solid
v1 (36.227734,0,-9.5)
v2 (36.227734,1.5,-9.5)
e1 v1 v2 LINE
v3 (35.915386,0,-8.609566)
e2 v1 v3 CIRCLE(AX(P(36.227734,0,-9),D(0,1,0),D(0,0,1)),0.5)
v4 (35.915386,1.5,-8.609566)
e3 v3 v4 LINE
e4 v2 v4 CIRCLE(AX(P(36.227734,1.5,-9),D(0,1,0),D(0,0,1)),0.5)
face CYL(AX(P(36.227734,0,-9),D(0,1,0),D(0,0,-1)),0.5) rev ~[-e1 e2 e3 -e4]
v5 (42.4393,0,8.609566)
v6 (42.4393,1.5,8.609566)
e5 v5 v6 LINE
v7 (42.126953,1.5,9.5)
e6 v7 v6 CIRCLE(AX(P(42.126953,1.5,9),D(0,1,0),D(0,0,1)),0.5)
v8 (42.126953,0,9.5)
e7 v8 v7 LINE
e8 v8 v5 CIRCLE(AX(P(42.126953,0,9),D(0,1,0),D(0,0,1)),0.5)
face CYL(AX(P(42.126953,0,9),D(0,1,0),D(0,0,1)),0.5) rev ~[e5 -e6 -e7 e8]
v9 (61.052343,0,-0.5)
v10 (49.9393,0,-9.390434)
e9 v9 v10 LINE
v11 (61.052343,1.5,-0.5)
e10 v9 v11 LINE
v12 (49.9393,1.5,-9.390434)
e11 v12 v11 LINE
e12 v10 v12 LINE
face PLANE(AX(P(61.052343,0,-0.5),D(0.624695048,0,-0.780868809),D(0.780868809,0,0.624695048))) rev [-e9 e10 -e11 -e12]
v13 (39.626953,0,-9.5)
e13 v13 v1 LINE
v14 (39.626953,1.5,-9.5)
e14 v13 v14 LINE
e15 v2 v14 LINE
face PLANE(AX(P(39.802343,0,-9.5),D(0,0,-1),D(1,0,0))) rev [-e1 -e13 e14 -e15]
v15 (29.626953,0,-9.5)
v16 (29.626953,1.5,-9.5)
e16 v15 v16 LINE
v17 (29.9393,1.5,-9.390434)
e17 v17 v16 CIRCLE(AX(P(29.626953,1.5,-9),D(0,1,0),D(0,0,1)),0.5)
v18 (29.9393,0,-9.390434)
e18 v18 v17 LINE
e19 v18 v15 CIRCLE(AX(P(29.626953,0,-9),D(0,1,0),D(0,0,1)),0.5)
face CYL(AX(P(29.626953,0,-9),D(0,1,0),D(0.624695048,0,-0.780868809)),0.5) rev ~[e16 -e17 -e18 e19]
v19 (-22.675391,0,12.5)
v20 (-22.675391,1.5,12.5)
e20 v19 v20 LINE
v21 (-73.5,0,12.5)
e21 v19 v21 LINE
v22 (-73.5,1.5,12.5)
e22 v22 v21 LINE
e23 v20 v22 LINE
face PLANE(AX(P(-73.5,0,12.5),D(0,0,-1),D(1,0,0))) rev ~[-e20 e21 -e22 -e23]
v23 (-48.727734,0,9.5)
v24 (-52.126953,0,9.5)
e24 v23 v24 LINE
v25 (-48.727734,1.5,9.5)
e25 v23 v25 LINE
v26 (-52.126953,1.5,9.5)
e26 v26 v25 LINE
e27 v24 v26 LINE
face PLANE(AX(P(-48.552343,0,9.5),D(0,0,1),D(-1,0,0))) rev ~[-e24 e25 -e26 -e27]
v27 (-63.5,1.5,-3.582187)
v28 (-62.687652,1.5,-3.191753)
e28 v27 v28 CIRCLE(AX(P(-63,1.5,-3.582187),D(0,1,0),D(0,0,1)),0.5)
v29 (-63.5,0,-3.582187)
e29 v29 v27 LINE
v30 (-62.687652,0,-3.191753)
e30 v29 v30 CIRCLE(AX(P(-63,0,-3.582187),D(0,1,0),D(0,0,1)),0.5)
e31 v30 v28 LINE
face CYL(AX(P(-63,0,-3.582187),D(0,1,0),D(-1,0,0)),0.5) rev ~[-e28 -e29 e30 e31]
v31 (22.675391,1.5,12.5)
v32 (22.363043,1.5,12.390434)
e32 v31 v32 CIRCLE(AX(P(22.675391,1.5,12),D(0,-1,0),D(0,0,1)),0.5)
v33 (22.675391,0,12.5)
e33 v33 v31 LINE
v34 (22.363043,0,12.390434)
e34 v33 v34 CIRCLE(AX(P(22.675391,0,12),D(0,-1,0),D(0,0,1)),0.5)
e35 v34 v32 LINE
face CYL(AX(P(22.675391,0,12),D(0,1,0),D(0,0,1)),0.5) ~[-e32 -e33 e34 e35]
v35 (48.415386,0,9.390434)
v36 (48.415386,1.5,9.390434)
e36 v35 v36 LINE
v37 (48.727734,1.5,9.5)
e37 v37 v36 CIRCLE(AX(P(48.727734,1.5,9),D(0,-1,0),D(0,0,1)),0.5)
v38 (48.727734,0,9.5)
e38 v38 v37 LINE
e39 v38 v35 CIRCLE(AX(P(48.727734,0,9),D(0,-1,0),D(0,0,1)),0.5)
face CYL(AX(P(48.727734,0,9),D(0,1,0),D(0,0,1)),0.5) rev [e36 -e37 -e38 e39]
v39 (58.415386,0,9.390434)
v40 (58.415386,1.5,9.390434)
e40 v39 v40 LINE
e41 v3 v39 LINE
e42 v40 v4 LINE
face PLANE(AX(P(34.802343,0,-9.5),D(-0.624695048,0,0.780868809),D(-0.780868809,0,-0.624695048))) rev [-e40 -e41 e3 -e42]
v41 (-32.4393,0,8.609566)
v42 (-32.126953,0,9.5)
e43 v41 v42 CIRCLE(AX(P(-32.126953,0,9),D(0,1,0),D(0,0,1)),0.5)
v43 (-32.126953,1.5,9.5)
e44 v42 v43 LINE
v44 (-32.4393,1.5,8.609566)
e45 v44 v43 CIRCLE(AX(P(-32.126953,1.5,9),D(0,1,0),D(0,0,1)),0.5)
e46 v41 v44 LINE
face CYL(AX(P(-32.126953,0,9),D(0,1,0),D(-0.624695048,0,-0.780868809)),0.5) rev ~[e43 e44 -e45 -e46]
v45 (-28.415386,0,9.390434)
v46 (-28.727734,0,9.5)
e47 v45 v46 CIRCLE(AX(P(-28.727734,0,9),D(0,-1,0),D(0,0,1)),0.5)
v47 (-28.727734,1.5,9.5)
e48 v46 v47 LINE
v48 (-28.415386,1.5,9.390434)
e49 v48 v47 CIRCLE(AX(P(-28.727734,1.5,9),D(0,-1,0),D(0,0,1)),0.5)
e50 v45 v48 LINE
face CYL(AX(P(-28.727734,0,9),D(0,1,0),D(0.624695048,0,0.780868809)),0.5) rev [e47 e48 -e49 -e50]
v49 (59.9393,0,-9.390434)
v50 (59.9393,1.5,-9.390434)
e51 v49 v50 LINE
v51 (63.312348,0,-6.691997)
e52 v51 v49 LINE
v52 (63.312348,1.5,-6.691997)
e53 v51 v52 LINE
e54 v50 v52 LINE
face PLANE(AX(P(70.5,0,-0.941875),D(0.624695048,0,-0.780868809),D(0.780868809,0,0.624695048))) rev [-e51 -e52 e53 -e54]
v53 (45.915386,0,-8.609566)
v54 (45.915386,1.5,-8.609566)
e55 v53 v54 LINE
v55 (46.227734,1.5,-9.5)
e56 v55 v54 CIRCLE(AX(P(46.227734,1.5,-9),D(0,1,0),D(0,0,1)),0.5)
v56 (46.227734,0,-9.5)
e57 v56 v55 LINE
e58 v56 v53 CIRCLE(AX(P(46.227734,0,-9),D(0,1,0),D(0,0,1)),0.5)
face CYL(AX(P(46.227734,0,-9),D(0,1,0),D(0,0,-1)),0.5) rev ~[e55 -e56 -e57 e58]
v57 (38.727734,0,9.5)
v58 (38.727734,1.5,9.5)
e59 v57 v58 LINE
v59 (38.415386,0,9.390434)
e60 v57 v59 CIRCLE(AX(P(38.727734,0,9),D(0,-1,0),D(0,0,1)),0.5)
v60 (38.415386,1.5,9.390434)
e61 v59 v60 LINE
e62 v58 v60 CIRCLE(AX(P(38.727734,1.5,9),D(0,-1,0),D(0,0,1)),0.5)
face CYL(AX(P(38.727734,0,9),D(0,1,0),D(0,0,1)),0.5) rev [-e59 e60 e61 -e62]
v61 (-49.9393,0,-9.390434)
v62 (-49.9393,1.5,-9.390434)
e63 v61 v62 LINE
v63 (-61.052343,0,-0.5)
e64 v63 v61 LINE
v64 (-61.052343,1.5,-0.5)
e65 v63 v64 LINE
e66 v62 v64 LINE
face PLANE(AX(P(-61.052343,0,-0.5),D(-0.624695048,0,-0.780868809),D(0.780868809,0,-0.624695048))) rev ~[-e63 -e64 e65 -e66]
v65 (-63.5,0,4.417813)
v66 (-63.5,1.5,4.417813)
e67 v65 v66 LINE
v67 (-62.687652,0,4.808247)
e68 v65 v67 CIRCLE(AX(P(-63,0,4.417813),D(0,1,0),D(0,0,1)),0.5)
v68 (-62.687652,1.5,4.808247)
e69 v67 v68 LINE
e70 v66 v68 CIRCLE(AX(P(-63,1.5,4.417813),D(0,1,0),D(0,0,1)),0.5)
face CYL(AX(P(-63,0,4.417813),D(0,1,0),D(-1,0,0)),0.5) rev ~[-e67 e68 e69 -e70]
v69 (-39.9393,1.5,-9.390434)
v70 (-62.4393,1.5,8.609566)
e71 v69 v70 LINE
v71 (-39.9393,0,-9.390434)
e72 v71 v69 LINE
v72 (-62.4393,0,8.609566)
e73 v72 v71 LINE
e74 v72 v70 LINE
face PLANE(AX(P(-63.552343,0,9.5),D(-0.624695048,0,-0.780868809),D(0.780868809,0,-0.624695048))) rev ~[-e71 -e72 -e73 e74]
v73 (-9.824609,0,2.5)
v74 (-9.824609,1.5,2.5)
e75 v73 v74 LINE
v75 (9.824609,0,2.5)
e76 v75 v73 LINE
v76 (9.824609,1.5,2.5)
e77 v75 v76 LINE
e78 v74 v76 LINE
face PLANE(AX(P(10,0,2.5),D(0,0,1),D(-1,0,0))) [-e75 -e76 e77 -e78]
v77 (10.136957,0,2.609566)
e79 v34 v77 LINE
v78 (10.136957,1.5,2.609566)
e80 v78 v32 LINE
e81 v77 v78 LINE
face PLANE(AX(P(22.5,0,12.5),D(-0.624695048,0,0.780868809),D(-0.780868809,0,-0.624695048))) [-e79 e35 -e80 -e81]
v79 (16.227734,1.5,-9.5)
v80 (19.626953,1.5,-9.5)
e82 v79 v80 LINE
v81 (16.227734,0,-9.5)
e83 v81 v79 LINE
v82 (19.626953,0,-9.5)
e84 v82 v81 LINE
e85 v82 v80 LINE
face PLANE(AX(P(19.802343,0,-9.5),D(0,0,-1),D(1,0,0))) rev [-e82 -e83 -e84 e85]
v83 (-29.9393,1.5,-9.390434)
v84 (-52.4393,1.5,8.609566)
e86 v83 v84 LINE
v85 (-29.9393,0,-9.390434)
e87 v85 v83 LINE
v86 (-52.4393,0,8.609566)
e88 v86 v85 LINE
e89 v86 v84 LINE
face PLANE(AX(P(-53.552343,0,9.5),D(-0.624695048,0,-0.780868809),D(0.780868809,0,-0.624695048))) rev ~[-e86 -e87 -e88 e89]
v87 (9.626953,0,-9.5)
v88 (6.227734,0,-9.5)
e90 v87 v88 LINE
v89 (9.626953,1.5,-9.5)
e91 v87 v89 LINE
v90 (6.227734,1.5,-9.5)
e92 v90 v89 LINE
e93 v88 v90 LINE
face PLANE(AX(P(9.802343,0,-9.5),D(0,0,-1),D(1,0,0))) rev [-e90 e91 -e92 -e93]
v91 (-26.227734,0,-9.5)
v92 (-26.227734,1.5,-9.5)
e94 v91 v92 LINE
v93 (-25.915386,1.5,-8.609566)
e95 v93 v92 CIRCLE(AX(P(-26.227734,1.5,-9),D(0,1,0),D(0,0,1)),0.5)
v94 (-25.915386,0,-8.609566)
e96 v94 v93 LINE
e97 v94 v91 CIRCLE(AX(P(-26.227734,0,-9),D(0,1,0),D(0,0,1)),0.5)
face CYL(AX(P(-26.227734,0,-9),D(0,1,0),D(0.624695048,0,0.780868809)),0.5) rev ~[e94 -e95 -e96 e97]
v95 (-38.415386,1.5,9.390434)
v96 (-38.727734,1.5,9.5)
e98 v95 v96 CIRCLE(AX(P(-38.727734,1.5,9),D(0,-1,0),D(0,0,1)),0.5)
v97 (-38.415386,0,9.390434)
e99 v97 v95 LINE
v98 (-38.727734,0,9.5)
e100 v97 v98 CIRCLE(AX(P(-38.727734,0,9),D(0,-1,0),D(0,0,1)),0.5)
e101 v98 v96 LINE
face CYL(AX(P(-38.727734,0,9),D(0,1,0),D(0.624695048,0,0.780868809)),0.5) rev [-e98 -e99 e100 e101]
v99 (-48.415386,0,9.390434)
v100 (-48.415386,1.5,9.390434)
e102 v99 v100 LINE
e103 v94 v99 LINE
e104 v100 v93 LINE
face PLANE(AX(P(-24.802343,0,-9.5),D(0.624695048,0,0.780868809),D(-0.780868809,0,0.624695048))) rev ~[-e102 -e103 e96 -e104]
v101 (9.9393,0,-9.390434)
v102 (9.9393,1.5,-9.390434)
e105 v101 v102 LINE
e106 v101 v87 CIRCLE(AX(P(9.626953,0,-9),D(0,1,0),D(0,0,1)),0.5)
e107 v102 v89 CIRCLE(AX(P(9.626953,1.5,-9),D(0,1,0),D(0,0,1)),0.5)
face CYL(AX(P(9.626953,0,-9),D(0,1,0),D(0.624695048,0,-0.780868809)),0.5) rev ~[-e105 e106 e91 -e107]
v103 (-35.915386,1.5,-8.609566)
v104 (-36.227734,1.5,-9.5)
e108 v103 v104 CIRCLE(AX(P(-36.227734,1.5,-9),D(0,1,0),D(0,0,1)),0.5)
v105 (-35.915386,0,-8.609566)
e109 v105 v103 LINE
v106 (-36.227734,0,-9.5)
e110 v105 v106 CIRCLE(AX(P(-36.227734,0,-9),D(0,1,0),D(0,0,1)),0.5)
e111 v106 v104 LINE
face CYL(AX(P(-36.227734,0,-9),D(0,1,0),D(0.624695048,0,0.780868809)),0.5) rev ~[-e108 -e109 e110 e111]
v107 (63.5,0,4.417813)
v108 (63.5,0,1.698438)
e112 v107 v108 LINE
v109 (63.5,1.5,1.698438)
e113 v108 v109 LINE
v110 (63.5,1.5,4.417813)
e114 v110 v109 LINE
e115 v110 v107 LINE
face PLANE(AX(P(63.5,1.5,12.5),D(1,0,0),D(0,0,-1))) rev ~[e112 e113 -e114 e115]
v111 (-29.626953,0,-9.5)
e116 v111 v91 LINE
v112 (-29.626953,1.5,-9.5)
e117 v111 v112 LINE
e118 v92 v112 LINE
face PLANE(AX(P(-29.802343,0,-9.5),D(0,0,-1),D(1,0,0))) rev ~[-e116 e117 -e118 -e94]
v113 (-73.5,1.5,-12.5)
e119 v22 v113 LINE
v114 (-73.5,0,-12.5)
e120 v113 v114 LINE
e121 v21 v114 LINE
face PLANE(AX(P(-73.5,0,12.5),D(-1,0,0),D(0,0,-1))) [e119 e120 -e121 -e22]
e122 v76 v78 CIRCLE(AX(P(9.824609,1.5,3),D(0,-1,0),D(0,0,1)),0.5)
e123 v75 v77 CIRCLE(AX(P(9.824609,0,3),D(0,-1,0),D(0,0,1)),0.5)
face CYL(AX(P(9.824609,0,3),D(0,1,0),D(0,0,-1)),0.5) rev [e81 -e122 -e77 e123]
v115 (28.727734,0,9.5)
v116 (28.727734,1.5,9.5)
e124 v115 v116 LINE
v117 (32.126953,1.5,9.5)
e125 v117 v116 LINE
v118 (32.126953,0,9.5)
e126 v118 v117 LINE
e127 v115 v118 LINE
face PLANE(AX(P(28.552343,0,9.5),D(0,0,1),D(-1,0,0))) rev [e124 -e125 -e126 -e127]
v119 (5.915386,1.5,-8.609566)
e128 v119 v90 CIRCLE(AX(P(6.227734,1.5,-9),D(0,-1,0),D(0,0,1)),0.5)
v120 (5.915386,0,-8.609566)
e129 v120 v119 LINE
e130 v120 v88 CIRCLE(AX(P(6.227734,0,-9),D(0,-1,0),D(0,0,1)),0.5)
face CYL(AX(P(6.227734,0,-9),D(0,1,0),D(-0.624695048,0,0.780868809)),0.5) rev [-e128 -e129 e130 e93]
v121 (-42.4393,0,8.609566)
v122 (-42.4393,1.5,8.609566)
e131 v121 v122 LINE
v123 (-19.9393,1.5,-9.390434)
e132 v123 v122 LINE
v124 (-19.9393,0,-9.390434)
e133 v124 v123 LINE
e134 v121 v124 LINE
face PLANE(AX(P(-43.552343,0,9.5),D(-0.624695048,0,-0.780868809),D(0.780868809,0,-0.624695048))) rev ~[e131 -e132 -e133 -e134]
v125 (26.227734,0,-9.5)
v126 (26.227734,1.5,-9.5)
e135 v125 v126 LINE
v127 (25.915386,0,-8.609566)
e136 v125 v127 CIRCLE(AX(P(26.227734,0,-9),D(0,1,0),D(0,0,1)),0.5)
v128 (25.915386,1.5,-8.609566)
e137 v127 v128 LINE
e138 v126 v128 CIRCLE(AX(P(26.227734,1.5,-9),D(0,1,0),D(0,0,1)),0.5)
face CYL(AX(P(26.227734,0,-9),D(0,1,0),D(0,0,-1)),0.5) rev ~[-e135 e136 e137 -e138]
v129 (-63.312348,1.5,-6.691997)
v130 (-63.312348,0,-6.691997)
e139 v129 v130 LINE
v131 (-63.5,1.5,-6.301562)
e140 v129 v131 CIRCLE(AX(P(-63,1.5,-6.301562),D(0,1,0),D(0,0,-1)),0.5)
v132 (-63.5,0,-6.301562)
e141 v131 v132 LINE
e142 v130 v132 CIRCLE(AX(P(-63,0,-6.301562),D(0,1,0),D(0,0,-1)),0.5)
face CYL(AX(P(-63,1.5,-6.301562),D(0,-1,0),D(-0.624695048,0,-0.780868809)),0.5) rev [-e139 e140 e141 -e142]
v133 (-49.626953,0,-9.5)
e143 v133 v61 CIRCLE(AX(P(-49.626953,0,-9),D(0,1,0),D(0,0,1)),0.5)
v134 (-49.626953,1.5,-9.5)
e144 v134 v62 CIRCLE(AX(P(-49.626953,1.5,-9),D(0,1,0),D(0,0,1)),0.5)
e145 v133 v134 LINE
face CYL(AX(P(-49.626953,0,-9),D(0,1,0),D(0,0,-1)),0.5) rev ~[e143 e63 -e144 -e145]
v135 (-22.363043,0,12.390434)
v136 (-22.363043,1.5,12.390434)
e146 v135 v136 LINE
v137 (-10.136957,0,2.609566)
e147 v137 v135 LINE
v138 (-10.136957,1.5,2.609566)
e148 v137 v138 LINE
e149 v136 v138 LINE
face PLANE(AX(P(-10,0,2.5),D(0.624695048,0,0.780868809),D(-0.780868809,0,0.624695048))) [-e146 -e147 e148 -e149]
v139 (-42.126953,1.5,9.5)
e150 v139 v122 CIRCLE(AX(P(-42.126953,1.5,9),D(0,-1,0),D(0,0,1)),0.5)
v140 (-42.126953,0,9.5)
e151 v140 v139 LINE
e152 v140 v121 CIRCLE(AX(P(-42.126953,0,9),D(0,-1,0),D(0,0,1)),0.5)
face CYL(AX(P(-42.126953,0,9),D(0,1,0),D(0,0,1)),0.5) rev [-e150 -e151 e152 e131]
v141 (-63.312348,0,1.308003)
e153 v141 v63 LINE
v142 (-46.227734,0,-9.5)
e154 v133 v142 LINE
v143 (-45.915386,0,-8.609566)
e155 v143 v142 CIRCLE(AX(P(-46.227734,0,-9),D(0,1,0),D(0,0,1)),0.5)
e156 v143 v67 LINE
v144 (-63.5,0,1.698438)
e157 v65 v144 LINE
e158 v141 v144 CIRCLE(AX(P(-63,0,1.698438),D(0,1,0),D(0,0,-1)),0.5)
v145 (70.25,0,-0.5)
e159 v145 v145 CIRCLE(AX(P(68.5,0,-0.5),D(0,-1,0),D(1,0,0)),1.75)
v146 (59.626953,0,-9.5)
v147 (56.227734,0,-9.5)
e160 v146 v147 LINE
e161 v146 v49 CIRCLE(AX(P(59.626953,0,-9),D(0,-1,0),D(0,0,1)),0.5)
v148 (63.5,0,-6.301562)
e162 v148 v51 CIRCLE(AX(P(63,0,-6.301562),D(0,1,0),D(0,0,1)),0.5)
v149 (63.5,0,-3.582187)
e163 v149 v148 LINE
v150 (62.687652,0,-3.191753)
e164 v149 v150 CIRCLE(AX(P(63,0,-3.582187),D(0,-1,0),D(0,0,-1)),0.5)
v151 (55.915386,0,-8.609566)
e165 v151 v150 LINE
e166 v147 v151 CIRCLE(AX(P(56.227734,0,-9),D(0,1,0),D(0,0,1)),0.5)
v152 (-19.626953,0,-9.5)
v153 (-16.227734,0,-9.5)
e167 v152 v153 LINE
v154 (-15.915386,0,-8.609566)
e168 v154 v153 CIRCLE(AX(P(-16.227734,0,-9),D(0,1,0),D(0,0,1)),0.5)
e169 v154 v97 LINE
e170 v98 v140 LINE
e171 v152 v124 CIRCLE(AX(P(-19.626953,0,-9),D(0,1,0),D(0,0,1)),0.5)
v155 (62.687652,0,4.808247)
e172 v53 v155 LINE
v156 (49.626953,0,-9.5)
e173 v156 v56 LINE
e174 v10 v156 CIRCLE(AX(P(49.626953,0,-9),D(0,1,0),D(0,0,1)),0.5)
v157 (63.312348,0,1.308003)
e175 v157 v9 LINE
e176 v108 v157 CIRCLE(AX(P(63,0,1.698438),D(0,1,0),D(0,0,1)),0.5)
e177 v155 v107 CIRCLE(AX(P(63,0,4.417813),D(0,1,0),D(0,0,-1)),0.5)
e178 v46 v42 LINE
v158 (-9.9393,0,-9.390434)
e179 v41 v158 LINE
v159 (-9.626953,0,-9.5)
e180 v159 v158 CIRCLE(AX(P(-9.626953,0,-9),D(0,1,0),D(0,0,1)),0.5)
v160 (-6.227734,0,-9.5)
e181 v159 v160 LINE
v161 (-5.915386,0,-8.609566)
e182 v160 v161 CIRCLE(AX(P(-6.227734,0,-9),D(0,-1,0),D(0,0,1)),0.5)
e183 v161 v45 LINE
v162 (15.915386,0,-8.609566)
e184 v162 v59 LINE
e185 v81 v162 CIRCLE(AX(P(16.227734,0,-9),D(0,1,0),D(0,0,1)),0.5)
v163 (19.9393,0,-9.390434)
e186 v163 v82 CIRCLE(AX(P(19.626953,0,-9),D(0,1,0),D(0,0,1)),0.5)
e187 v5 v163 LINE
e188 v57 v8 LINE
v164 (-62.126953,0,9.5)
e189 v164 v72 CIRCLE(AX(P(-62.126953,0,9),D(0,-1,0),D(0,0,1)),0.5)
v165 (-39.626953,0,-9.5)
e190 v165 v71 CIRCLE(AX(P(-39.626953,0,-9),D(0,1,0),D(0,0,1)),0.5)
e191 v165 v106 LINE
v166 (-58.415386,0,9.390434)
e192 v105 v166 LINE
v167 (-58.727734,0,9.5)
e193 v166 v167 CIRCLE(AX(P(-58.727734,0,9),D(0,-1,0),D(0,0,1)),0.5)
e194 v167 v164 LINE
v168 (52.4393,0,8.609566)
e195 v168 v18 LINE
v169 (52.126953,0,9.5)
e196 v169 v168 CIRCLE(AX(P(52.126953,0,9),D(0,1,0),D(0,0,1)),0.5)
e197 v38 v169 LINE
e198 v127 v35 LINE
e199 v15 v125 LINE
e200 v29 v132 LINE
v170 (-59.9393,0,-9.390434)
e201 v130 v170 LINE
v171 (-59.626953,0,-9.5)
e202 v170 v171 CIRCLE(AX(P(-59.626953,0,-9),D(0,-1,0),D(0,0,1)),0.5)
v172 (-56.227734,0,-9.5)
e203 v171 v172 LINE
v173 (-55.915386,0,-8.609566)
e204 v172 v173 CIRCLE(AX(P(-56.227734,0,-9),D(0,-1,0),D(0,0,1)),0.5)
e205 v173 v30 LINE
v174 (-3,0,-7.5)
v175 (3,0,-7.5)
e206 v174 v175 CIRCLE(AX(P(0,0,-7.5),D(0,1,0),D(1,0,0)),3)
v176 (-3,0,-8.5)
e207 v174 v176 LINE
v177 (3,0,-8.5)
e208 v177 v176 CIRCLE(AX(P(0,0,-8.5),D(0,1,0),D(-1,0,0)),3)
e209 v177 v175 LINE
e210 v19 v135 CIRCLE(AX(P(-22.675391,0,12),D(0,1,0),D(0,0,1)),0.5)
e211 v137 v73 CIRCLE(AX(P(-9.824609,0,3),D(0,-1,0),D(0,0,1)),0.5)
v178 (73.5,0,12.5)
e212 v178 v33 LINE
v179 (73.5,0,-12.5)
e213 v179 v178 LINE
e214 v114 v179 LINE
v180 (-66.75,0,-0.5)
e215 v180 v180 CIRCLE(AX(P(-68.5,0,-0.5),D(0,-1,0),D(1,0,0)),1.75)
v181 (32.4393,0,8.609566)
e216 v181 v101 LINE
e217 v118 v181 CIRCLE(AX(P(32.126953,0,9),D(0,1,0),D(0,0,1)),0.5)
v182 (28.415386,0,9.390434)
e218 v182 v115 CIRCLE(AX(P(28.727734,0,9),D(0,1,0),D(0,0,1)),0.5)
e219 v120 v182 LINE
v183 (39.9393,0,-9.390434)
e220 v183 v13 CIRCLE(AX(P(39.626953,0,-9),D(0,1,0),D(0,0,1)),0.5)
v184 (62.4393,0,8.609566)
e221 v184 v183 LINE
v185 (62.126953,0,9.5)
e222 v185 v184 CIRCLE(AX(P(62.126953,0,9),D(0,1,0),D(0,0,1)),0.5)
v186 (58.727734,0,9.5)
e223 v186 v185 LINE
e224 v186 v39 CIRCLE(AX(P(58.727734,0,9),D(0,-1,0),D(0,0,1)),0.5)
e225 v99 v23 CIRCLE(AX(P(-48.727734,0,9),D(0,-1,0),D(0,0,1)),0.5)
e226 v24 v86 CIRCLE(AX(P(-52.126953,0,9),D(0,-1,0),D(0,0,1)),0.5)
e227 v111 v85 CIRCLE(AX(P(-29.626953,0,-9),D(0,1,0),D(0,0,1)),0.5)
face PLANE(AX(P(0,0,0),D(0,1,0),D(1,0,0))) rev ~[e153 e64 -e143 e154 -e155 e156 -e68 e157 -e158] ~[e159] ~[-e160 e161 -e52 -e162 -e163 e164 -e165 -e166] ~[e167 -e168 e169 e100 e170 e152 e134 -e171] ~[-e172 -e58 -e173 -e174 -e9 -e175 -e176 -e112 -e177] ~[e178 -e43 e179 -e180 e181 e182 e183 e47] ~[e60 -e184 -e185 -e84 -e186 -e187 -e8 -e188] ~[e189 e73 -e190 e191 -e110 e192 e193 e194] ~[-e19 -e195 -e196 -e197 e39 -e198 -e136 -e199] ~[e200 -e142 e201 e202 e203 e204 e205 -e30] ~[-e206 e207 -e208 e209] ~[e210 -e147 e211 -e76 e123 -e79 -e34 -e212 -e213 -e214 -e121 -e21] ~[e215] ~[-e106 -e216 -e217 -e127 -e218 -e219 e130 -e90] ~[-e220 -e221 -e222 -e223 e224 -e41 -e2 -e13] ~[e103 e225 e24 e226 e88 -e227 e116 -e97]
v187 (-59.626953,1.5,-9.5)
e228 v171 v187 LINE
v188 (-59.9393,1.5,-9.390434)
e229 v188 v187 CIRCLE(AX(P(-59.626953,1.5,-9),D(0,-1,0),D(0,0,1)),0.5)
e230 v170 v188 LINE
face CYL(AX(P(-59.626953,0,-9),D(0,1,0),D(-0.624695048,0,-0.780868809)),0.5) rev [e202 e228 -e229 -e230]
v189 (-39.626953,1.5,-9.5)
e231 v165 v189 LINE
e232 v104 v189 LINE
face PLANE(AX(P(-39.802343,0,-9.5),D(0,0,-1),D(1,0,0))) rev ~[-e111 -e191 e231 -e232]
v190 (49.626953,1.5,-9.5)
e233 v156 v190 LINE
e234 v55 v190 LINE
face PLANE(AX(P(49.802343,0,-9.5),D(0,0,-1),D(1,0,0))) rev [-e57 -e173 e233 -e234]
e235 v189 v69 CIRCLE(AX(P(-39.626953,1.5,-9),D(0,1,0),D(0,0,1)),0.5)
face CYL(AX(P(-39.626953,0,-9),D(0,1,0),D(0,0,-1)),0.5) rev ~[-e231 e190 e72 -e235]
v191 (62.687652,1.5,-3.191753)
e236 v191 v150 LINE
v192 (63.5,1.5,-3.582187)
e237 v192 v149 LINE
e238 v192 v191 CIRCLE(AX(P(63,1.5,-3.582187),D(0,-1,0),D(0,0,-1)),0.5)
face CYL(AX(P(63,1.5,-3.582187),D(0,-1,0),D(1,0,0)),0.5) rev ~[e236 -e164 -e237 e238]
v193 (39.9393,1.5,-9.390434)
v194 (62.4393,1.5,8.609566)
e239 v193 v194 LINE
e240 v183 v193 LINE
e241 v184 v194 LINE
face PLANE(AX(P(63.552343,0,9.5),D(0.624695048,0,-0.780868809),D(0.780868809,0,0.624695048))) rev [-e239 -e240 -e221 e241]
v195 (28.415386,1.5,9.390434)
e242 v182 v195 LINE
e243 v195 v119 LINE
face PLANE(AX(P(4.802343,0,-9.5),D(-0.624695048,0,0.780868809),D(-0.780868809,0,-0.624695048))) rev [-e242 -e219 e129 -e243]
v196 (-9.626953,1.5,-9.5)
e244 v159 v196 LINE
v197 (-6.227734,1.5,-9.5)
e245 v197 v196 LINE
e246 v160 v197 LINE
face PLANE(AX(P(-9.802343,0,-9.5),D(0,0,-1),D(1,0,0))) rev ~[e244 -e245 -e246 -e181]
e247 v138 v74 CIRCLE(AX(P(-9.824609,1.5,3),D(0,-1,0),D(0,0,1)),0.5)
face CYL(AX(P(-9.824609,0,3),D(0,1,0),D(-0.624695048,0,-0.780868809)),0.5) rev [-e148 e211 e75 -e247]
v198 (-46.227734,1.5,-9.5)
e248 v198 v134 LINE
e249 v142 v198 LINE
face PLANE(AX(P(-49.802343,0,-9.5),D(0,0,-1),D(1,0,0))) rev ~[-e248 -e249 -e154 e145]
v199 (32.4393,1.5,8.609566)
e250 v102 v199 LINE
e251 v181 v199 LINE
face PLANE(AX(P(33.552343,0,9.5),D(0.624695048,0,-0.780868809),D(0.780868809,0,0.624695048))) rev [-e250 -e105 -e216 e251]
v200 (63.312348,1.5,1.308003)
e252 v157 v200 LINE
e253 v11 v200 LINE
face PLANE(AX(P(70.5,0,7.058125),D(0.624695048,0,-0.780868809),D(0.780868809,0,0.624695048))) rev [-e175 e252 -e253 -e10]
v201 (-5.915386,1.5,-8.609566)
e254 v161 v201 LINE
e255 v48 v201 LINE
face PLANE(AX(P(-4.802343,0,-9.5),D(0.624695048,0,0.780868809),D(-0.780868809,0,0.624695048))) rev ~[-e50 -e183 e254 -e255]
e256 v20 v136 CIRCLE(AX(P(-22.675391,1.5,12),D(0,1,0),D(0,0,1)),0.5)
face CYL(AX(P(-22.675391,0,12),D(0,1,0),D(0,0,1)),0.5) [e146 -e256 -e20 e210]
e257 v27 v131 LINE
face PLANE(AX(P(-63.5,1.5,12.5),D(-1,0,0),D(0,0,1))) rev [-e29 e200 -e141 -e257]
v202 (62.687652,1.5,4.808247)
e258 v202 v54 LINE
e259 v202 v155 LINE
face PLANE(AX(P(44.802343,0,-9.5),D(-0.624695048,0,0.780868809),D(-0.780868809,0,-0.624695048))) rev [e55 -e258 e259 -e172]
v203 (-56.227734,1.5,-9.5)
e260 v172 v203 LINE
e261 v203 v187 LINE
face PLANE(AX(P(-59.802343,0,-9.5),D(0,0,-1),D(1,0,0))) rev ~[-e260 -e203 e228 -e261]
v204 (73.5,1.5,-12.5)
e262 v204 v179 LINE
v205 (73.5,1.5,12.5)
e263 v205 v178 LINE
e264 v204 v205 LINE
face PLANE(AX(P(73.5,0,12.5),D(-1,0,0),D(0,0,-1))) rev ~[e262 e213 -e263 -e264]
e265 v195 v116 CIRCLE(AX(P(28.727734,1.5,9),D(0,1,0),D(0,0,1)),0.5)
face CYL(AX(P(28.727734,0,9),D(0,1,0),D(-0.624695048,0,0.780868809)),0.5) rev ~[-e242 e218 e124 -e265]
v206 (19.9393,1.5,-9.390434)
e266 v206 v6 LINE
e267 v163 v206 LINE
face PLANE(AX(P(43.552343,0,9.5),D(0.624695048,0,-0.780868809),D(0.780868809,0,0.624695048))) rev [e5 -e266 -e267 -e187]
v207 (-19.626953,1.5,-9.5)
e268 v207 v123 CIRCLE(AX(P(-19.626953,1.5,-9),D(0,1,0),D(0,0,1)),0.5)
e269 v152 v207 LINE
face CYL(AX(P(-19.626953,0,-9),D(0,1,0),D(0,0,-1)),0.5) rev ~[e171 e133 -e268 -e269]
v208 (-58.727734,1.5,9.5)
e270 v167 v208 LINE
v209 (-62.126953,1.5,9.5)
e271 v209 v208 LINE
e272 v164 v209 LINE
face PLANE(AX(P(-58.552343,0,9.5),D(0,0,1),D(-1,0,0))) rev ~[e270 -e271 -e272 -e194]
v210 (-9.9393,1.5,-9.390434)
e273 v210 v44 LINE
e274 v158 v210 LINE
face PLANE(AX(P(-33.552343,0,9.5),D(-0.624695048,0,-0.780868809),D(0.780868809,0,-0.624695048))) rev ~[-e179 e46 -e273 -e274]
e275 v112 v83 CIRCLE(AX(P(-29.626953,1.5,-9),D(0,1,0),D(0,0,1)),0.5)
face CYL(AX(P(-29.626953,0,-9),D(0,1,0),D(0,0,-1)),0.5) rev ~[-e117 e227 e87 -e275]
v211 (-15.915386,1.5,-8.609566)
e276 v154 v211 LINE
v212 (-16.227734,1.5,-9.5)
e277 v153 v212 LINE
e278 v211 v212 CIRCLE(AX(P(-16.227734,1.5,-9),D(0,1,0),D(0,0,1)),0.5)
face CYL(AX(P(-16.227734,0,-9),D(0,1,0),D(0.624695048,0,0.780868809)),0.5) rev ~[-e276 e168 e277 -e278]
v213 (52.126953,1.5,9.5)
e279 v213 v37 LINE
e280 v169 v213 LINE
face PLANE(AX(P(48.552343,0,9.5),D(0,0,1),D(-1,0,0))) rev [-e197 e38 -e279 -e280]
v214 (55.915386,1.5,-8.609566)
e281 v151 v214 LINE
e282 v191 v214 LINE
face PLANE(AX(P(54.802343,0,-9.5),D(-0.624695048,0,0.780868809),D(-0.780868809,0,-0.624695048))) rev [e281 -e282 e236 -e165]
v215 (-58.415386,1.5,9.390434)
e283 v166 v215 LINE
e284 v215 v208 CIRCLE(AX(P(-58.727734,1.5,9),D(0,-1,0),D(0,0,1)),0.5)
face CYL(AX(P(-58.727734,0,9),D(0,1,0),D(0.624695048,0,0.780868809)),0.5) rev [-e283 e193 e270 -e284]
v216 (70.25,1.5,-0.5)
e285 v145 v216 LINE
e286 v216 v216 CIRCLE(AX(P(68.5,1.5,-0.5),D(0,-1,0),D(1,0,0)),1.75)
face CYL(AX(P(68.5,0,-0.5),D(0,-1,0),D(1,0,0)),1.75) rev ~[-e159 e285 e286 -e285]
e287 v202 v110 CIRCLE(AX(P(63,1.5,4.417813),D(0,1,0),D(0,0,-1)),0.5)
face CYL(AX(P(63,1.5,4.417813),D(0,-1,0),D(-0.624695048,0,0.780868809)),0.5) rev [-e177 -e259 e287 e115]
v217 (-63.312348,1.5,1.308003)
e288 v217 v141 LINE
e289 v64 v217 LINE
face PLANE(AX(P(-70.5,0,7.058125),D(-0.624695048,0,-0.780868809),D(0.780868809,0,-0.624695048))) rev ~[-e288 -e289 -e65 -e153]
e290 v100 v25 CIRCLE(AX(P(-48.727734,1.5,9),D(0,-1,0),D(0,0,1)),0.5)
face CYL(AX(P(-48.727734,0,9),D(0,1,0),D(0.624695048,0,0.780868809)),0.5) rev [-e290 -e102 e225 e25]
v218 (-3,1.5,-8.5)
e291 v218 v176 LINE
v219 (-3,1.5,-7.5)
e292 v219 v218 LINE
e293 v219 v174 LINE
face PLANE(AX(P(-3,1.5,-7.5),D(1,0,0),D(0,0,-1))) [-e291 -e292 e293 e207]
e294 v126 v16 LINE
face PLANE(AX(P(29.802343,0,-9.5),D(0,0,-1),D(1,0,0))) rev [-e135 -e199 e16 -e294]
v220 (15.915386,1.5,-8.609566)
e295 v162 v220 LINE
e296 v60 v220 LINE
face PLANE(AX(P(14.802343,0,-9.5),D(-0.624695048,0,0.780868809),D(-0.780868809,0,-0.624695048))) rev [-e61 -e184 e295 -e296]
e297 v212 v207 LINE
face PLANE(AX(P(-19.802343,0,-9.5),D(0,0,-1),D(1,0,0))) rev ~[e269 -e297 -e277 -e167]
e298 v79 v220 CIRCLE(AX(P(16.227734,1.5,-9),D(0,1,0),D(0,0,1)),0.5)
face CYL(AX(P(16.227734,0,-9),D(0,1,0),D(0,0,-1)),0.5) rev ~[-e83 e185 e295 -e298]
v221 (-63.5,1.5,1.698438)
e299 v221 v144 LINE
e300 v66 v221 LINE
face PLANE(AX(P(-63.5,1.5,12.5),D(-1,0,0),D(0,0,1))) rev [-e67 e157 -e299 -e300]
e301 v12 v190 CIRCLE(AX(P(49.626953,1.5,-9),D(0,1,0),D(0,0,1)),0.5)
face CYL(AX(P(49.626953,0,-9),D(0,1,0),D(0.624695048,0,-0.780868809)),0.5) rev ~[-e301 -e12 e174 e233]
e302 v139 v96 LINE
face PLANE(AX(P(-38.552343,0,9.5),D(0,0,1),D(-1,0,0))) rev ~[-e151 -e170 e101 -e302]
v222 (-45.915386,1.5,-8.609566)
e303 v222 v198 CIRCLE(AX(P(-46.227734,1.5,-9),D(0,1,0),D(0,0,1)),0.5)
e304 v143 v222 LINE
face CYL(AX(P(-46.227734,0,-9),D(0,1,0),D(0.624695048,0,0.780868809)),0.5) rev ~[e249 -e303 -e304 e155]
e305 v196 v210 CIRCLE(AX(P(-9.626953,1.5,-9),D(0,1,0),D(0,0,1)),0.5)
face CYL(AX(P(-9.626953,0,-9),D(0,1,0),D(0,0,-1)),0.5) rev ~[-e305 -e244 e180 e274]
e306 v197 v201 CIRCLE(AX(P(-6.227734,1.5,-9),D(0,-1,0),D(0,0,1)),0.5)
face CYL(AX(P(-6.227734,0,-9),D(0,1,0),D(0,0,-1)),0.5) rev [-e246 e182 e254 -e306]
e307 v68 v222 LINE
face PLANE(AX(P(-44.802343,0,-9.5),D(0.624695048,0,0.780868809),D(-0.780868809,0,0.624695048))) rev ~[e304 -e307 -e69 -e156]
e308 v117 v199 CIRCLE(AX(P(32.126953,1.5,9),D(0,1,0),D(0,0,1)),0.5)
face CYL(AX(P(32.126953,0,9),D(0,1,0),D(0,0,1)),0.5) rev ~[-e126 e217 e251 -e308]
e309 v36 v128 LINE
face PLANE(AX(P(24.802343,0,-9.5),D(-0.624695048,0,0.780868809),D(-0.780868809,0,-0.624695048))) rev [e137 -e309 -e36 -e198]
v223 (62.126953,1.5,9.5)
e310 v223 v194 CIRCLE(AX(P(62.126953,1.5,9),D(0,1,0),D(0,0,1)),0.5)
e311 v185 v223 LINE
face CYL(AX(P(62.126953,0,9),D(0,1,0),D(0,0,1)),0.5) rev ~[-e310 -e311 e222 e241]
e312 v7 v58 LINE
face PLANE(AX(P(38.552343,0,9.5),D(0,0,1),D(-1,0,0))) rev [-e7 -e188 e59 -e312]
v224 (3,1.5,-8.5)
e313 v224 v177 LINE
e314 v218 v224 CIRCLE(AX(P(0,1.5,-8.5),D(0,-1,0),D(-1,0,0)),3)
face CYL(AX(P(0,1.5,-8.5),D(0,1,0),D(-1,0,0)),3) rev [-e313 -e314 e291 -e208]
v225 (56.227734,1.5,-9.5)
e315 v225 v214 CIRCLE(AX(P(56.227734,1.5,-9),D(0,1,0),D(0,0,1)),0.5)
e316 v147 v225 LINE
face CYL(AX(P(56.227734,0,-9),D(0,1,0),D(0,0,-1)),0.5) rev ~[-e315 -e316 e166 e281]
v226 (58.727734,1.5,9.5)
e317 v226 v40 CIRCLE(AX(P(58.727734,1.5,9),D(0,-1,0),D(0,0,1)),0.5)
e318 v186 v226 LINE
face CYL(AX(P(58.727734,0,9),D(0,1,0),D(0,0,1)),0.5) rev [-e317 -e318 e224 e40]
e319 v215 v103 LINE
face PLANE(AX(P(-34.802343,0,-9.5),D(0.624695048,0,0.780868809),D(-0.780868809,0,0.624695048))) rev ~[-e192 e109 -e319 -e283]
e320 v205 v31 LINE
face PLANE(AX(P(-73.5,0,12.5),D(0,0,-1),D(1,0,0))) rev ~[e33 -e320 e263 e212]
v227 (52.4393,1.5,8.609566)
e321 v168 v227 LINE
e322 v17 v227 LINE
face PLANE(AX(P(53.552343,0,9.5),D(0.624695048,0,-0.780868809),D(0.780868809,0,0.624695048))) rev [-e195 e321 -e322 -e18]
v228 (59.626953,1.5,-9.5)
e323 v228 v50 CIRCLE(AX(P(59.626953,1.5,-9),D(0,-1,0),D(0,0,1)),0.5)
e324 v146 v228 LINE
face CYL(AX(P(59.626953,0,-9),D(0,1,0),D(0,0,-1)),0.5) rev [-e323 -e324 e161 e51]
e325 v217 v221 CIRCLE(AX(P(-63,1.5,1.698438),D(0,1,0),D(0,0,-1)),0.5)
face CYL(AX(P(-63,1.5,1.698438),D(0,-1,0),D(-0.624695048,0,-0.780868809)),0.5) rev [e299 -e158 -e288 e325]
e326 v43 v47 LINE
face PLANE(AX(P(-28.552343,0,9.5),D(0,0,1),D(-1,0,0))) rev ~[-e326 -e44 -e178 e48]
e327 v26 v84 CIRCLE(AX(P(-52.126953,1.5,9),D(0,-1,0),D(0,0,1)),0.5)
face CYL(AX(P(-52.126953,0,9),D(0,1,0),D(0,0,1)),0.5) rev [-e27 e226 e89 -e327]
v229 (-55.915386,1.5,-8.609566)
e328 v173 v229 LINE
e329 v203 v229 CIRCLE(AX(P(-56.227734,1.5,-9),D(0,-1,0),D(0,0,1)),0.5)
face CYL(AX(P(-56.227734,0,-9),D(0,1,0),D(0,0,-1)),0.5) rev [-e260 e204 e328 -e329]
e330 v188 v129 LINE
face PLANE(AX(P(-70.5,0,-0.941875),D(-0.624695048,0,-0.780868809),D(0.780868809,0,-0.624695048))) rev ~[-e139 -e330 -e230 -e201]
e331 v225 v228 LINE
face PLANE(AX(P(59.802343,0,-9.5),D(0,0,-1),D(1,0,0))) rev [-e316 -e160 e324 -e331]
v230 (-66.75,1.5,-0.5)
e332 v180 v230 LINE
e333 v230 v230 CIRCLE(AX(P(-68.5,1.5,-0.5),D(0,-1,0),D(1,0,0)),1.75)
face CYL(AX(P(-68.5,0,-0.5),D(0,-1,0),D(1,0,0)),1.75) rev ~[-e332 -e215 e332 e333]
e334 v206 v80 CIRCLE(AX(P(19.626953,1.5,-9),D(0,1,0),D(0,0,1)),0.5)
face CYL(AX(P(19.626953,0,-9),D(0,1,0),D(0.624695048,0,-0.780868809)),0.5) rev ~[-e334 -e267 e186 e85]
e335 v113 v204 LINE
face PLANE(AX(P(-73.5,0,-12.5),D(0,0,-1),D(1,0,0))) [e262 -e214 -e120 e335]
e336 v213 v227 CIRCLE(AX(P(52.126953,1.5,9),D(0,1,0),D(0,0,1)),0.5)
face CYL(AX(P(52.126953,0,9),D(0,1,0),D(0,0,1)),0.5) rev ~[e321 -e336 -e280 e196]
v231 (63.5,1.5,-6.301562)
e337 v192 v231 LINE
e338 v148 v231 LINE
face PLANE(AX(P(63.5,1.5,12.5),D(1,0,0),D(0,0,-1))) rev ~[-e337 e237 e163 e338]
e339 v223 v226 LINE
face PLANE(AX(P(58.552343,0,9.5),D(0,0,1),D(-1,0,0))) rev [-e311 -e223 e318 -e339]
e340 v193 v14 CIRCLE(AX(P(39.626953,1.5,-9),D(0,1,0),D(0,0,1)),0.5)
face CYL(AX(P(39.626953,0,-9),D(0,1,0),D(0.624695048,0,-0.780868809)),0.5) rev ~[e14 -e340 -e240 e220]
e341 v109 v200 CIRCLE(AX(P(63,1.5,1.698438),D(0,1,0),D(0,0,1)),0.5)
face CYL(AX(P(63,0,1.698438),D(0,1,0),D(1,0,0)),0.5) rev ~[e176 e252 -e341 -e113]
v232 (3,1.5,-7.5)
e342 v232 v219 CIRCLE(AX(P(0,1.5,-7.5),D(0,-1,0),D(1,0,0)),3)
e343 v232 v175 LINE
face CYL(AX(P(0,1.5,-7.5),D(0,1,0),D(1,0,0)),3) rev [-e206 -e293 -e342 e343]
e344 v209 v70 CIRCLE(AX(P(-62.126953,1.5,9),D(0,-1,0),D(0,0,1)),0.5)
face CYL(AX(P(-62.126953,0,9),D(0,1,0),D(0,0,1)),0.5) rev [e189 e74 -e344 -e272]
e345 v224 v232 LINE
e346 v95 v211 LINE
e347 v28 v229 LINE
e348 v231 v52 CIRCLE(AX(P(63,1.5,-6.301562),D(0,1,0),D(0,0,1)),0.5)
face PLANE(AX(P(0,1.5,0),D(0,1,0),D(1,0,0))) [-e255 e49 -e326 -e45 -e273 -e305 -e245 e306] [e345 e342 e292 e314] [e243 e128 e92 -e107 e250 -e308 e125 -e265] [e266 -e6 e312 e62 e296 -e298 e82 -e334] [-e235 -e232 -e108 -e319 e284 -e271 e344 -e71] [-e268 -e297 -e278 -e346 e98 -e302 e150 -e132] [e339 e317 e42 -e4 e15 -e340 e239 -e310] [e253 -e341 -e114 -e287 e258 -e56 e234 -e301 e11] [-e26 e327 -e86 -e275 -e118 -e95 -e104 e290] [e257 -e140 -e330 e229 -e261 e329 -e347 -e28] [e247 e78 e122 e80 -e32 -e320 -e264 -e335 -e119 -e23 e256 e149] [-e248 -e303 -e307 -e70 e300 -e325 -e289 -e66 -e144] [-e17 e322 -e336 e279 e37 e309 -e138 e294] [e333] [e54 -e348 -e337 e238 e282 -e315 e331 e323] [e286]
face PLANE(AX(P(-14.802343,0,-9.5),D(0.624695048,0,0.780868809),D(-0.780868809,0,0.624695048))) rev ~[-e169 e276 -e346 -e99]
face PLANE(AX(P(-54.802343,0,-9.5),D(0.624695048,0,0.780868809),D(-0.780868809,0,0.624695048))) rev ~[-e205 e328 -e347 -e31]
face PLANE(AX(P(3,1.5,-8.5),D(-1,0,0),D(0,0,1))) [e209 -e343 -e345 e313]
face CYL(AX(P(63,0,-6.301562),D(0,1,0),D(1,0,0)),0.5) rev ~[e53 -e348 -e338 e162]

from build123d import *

# Parameters (mm, degrees)
SKETCH_1_W          = 147
SKETCH_1_H          = 25
EXTRUDE_1_DEPTH     = 1.5
CUT_EXTRUDE_1_DEPTH = 2.5
CUT_EXTRUDE_2_DEPTH = 10
FILLET_2_R          = 0.5
SKETCH_4_W          = 10
SKETCH_4_H          = 25
EXTRUDE_2_DEPTH     = 1.5
FILLET_3_R          = 0.5
SKETCH_5_R          = 1.75
CUT_EXTRUDE_3_DEPTH = 2.5
CUT_EXTRUDE_4_DEPTH = 2.5


with BuildPart() as part:
    # 草图1 → 凸台-拉伸1 (new body)
    with BuildSketch(Plane(origin=(0, 0, 0), x_dir=(1, 0, 0), z_dir=(0, 1, 0))):
        Rectangle(SKETCH_1_W, SKETCH_1_H)
    extrude(amount=EXTRUDE_1_DEPTH)

    # 草图2 → 切除-拉伸1 (cut, through all)
    with BuildSketch(Plane.XZ):
        Polygon((10, 2.5), (-10, 2.5), (-22.5, 12.5), (22.5, 12.5), align=None)
    extrude(amount=-CUT_EXTRUDE_1_DEPTH, mode=Mode.SUBTRACT)

    # 草图3 → 切除-拉伸2 (cut)
    with BuildSketch(Plane.XZ):
        Polygon((-4.802343178, -9.5), (-16.052343178, -0.5), (-28.552343178, 9.5), (-33.552343178, 9.5), (-21.052343178, -0.5), (-9.802343178, -9.5), align=None)
        Polygon((-26.052343178, -0.5), (-38.552343178, 9.5), (-43.552343178, 9.5), (-31.052343178, -0.5), (-19.802343178, -9.5), (-14.802343178, -9.5), align=None)
        Polygon((-36.052343178, -0.5), (-48.552343178, 9.5), (-53.552343178, 9.5), (-41.052343178, -0.5), (-29.802343178, -9.5), (-24.802343178, -9.5), align=None)
        Polygon((-46.052343178, -0.5), (-58.552343178, 9.5), (-63.552343178, 9.5), (-51.052343178, -0.5), (-39.802343178, -9.5), (-34.802343178, -9.5), align=None)
        Polygon((-56.052343178, -0.5), (-68.552343178, 9.5), (-70.5, 9.5), (-70.5, 7.058125458), (-61.052343178, -0.5), (-49.802343178, -9.5), (-44.802343178, -9.5), align=None)
        Polygon((-59.802343178, -9.5), (-54.802343178, -9.5), (-66.052343178, -0.5), (-70.5, 3.058125458), (-70.5, -0.941874542), align=None)
        Polygon((-70.5, -9.5), (-64.802343178, -9.5), (-70.5, -4.941874542), align=None)
    cut_extrude_2 = extrude(amount=-CUT_EXTRUDE_2_DEPTH, mode=Mode.SUBTRACT)

    # 镜向3: 切除-拉伸2 across plane
    add(cut_extrude_2.mirror(Plane(origin=(0, 0, 0), x_dir=(0, 0, 1), z_dir=(1, 0, 0))), mode=Mode.SUBTRACT)

    # 圆角2
    fillet_2_edges = [part.edges().sort_by_distance(p)[0] for p in [
        (-70.5, 0.75, -0.941874542),
        (-70.5, 0.75, 3.058125458),
        (-54.802343178, 0.75, -9.5),
        (-59.802343178, 0.75, -9.5),
        (-9.802343178, 0.75, -9.5),
        (-33.552343178, 0.75, 9.5),
        (-28.552343178, 0.75, 9.5),
        (-4.802343178, 0.75, -9.5),
        (22.5, 0.75, 12.5),
        (10, 0.75, 2.5),
        (-10, 0.75, 2.5),
        (-22.5, 0.75, 12.5),
        (63.552343178, 0.75, 9.5),
        (39.802343178, 0.75, -9.5),
        (34.802343178, 0.75, -9.5),
        (58.552343178, 0.75, 9.5),
        (70.5, 0.75, 7.058125458),
        (49.802343178, 0.75, -9.5),
        (44.802343178, 0.75, -9.5),
        (68.552343178, 0.75, 9.5),
        (70.5, 0.75, 9.5),
        (43.552343178, 0.75, 9.5),
        (19.802343178, 0.75, -9.5),
        (14.802343178, 0.75, -9.5),
        (38.552343178, 0.75, 9.5),
        (53.552343178, 0.75, 9.5),
        (29.802343178, 0.75, -9.5),
        (24.802343178, 0.75, -9.5),
        (48.552343178, 0.75, 9.5),
        (64.802343178, 0.75, -9.5),
        (70.5, 0.75, -4.941874542),
        (70.5, 0.75, -9.5),
        (70.5, 0.75, 3.058125458),
        (70.5, 0.75, -0.941874542),
        (59.802343178, 0.75, -9.5),
        (54.802343178, 0.75, -9.5),
        (33.552343178, 0.75, 9.5),
        (9.802343178, 0.75, -9.5),
        (4.802343178, 0.75, -9.5),
        (28.552343178, 0.75, 9.5),
        (-39.802343178, 0.75, -9.5),
        (-63.552343178, 0.75, 9.5),
        (-58.552343178, 0.75, 9.5),
        (-34.802343178, 0.75, -9.5),
        (-49.802343178, 0.75, -9.5),
        (-70.5, 0.75, 7.058125458),
        (-70.5, 0.75, 9.5),
        (-68.552343178, 0.75, 9.5),
        (-44.802343178, 0.75, -9.5),
        (73.5, 0.75, 12.5),
        (-19.802343178, 0.75, -9.5),
        (-73.5, 0.75, 12.5),
        (-43.552343178, 0.75, 9.5),
        (-38.552343178, 0.75, 9.5),
        (-14.802343178, 0.75, -9.5),
        (-73.5, 0.75, -12.5),
        (73.5, 0.75, -12.5),
        (-29.802343178, 0.75, -9.5),
        (-53.552343178, 0.75, 9.5),
        (-48.552343178, 0.75, 9.5),
        (-24.802343178, 0.75, -9.5),
        (-70.5, 0.75, -4.941874542),
        (-64.802343178, 0.75, -9.5),
        (-70.5, 0.75, -9.5),
    ]]
    fillet(fillet_2_edges, radius=FILLET_2_R)

    # 草图4 → 凸台-拉伸2 (add)
    with BuildSketch(Plane(origin=(0, 1.5, 0), x_dir=(1, 0, 0), z_dir=(0, 1, 0))):
        with Locations((68.5, 0)):
            Rectangle(SKETCH_4_W, SKETCH_4_H)
    extrude_2 = extrude(amount=-EXTRUDE_2_DEPTH)

    # 镜向4: 凸台-拉伸2 across plane
    add(extrude_2.mirror(Plane(origin=(0, 0, 0), x_dir=(0, 0, 1), z_dir=(1, 0, 0))))

    # 圆角3
    fillet_3_edges = [part.edges().sort_by_distance(p)[0] for p in [
        (63.5, 0.75, 5.458125458),
        (63.5, 0.75, -6.541874542),
        (63.5, 0.75, -2.541874542),
        (63.5, 0.75, 1.458125458),
        (-63.5, 0.75, 5.458125458),
        (-63.5, 0.75, -2.541874542),
        (-63.5, 0.75, 1.458125458),
        (-63.5, 0.75, -6.541874542),
    ]]
    fillet(fillet_3_edges, radius=FILLET_3_R)

    # 草图5 → 切除-拉伸3 (cut, through all)
    with BuildSketch(Plane.XZ):
        with Locations((-68.5, -0.5)):
            Circle(SKETCH_5_R)
        with Locations((68.5, -0.5)):
            Circle(SKETCH_5_R)
    extrude(amount=-CUT_EXTRUDE_3_DEPTH, mode=Mode.SUBTRACT)

    # 草图6 → 切除-拉伸4 (cut, through all)
    with BuildSketch(Plane(origin=(0, 1.5, 0), x_dir=(1, 0, 0), z_dir=(0, 1, 0))):
        with BuildLine():
            Line((3, 8.5), (3, 7.5))
            ThreePointArc((3, 7.5), (0, 4.5), (-3, 7.5))
            Line((-3, 7.5), (-3, 8.5))
            ThreePointArc((-3, 8.5), (0, 11.5), (3, 8.5))
        make_face()
    extrude(amount=-CUT_EXTRUDE_4_DEPTH, mode=Mode.SUBTRACT)


solid = part.part
